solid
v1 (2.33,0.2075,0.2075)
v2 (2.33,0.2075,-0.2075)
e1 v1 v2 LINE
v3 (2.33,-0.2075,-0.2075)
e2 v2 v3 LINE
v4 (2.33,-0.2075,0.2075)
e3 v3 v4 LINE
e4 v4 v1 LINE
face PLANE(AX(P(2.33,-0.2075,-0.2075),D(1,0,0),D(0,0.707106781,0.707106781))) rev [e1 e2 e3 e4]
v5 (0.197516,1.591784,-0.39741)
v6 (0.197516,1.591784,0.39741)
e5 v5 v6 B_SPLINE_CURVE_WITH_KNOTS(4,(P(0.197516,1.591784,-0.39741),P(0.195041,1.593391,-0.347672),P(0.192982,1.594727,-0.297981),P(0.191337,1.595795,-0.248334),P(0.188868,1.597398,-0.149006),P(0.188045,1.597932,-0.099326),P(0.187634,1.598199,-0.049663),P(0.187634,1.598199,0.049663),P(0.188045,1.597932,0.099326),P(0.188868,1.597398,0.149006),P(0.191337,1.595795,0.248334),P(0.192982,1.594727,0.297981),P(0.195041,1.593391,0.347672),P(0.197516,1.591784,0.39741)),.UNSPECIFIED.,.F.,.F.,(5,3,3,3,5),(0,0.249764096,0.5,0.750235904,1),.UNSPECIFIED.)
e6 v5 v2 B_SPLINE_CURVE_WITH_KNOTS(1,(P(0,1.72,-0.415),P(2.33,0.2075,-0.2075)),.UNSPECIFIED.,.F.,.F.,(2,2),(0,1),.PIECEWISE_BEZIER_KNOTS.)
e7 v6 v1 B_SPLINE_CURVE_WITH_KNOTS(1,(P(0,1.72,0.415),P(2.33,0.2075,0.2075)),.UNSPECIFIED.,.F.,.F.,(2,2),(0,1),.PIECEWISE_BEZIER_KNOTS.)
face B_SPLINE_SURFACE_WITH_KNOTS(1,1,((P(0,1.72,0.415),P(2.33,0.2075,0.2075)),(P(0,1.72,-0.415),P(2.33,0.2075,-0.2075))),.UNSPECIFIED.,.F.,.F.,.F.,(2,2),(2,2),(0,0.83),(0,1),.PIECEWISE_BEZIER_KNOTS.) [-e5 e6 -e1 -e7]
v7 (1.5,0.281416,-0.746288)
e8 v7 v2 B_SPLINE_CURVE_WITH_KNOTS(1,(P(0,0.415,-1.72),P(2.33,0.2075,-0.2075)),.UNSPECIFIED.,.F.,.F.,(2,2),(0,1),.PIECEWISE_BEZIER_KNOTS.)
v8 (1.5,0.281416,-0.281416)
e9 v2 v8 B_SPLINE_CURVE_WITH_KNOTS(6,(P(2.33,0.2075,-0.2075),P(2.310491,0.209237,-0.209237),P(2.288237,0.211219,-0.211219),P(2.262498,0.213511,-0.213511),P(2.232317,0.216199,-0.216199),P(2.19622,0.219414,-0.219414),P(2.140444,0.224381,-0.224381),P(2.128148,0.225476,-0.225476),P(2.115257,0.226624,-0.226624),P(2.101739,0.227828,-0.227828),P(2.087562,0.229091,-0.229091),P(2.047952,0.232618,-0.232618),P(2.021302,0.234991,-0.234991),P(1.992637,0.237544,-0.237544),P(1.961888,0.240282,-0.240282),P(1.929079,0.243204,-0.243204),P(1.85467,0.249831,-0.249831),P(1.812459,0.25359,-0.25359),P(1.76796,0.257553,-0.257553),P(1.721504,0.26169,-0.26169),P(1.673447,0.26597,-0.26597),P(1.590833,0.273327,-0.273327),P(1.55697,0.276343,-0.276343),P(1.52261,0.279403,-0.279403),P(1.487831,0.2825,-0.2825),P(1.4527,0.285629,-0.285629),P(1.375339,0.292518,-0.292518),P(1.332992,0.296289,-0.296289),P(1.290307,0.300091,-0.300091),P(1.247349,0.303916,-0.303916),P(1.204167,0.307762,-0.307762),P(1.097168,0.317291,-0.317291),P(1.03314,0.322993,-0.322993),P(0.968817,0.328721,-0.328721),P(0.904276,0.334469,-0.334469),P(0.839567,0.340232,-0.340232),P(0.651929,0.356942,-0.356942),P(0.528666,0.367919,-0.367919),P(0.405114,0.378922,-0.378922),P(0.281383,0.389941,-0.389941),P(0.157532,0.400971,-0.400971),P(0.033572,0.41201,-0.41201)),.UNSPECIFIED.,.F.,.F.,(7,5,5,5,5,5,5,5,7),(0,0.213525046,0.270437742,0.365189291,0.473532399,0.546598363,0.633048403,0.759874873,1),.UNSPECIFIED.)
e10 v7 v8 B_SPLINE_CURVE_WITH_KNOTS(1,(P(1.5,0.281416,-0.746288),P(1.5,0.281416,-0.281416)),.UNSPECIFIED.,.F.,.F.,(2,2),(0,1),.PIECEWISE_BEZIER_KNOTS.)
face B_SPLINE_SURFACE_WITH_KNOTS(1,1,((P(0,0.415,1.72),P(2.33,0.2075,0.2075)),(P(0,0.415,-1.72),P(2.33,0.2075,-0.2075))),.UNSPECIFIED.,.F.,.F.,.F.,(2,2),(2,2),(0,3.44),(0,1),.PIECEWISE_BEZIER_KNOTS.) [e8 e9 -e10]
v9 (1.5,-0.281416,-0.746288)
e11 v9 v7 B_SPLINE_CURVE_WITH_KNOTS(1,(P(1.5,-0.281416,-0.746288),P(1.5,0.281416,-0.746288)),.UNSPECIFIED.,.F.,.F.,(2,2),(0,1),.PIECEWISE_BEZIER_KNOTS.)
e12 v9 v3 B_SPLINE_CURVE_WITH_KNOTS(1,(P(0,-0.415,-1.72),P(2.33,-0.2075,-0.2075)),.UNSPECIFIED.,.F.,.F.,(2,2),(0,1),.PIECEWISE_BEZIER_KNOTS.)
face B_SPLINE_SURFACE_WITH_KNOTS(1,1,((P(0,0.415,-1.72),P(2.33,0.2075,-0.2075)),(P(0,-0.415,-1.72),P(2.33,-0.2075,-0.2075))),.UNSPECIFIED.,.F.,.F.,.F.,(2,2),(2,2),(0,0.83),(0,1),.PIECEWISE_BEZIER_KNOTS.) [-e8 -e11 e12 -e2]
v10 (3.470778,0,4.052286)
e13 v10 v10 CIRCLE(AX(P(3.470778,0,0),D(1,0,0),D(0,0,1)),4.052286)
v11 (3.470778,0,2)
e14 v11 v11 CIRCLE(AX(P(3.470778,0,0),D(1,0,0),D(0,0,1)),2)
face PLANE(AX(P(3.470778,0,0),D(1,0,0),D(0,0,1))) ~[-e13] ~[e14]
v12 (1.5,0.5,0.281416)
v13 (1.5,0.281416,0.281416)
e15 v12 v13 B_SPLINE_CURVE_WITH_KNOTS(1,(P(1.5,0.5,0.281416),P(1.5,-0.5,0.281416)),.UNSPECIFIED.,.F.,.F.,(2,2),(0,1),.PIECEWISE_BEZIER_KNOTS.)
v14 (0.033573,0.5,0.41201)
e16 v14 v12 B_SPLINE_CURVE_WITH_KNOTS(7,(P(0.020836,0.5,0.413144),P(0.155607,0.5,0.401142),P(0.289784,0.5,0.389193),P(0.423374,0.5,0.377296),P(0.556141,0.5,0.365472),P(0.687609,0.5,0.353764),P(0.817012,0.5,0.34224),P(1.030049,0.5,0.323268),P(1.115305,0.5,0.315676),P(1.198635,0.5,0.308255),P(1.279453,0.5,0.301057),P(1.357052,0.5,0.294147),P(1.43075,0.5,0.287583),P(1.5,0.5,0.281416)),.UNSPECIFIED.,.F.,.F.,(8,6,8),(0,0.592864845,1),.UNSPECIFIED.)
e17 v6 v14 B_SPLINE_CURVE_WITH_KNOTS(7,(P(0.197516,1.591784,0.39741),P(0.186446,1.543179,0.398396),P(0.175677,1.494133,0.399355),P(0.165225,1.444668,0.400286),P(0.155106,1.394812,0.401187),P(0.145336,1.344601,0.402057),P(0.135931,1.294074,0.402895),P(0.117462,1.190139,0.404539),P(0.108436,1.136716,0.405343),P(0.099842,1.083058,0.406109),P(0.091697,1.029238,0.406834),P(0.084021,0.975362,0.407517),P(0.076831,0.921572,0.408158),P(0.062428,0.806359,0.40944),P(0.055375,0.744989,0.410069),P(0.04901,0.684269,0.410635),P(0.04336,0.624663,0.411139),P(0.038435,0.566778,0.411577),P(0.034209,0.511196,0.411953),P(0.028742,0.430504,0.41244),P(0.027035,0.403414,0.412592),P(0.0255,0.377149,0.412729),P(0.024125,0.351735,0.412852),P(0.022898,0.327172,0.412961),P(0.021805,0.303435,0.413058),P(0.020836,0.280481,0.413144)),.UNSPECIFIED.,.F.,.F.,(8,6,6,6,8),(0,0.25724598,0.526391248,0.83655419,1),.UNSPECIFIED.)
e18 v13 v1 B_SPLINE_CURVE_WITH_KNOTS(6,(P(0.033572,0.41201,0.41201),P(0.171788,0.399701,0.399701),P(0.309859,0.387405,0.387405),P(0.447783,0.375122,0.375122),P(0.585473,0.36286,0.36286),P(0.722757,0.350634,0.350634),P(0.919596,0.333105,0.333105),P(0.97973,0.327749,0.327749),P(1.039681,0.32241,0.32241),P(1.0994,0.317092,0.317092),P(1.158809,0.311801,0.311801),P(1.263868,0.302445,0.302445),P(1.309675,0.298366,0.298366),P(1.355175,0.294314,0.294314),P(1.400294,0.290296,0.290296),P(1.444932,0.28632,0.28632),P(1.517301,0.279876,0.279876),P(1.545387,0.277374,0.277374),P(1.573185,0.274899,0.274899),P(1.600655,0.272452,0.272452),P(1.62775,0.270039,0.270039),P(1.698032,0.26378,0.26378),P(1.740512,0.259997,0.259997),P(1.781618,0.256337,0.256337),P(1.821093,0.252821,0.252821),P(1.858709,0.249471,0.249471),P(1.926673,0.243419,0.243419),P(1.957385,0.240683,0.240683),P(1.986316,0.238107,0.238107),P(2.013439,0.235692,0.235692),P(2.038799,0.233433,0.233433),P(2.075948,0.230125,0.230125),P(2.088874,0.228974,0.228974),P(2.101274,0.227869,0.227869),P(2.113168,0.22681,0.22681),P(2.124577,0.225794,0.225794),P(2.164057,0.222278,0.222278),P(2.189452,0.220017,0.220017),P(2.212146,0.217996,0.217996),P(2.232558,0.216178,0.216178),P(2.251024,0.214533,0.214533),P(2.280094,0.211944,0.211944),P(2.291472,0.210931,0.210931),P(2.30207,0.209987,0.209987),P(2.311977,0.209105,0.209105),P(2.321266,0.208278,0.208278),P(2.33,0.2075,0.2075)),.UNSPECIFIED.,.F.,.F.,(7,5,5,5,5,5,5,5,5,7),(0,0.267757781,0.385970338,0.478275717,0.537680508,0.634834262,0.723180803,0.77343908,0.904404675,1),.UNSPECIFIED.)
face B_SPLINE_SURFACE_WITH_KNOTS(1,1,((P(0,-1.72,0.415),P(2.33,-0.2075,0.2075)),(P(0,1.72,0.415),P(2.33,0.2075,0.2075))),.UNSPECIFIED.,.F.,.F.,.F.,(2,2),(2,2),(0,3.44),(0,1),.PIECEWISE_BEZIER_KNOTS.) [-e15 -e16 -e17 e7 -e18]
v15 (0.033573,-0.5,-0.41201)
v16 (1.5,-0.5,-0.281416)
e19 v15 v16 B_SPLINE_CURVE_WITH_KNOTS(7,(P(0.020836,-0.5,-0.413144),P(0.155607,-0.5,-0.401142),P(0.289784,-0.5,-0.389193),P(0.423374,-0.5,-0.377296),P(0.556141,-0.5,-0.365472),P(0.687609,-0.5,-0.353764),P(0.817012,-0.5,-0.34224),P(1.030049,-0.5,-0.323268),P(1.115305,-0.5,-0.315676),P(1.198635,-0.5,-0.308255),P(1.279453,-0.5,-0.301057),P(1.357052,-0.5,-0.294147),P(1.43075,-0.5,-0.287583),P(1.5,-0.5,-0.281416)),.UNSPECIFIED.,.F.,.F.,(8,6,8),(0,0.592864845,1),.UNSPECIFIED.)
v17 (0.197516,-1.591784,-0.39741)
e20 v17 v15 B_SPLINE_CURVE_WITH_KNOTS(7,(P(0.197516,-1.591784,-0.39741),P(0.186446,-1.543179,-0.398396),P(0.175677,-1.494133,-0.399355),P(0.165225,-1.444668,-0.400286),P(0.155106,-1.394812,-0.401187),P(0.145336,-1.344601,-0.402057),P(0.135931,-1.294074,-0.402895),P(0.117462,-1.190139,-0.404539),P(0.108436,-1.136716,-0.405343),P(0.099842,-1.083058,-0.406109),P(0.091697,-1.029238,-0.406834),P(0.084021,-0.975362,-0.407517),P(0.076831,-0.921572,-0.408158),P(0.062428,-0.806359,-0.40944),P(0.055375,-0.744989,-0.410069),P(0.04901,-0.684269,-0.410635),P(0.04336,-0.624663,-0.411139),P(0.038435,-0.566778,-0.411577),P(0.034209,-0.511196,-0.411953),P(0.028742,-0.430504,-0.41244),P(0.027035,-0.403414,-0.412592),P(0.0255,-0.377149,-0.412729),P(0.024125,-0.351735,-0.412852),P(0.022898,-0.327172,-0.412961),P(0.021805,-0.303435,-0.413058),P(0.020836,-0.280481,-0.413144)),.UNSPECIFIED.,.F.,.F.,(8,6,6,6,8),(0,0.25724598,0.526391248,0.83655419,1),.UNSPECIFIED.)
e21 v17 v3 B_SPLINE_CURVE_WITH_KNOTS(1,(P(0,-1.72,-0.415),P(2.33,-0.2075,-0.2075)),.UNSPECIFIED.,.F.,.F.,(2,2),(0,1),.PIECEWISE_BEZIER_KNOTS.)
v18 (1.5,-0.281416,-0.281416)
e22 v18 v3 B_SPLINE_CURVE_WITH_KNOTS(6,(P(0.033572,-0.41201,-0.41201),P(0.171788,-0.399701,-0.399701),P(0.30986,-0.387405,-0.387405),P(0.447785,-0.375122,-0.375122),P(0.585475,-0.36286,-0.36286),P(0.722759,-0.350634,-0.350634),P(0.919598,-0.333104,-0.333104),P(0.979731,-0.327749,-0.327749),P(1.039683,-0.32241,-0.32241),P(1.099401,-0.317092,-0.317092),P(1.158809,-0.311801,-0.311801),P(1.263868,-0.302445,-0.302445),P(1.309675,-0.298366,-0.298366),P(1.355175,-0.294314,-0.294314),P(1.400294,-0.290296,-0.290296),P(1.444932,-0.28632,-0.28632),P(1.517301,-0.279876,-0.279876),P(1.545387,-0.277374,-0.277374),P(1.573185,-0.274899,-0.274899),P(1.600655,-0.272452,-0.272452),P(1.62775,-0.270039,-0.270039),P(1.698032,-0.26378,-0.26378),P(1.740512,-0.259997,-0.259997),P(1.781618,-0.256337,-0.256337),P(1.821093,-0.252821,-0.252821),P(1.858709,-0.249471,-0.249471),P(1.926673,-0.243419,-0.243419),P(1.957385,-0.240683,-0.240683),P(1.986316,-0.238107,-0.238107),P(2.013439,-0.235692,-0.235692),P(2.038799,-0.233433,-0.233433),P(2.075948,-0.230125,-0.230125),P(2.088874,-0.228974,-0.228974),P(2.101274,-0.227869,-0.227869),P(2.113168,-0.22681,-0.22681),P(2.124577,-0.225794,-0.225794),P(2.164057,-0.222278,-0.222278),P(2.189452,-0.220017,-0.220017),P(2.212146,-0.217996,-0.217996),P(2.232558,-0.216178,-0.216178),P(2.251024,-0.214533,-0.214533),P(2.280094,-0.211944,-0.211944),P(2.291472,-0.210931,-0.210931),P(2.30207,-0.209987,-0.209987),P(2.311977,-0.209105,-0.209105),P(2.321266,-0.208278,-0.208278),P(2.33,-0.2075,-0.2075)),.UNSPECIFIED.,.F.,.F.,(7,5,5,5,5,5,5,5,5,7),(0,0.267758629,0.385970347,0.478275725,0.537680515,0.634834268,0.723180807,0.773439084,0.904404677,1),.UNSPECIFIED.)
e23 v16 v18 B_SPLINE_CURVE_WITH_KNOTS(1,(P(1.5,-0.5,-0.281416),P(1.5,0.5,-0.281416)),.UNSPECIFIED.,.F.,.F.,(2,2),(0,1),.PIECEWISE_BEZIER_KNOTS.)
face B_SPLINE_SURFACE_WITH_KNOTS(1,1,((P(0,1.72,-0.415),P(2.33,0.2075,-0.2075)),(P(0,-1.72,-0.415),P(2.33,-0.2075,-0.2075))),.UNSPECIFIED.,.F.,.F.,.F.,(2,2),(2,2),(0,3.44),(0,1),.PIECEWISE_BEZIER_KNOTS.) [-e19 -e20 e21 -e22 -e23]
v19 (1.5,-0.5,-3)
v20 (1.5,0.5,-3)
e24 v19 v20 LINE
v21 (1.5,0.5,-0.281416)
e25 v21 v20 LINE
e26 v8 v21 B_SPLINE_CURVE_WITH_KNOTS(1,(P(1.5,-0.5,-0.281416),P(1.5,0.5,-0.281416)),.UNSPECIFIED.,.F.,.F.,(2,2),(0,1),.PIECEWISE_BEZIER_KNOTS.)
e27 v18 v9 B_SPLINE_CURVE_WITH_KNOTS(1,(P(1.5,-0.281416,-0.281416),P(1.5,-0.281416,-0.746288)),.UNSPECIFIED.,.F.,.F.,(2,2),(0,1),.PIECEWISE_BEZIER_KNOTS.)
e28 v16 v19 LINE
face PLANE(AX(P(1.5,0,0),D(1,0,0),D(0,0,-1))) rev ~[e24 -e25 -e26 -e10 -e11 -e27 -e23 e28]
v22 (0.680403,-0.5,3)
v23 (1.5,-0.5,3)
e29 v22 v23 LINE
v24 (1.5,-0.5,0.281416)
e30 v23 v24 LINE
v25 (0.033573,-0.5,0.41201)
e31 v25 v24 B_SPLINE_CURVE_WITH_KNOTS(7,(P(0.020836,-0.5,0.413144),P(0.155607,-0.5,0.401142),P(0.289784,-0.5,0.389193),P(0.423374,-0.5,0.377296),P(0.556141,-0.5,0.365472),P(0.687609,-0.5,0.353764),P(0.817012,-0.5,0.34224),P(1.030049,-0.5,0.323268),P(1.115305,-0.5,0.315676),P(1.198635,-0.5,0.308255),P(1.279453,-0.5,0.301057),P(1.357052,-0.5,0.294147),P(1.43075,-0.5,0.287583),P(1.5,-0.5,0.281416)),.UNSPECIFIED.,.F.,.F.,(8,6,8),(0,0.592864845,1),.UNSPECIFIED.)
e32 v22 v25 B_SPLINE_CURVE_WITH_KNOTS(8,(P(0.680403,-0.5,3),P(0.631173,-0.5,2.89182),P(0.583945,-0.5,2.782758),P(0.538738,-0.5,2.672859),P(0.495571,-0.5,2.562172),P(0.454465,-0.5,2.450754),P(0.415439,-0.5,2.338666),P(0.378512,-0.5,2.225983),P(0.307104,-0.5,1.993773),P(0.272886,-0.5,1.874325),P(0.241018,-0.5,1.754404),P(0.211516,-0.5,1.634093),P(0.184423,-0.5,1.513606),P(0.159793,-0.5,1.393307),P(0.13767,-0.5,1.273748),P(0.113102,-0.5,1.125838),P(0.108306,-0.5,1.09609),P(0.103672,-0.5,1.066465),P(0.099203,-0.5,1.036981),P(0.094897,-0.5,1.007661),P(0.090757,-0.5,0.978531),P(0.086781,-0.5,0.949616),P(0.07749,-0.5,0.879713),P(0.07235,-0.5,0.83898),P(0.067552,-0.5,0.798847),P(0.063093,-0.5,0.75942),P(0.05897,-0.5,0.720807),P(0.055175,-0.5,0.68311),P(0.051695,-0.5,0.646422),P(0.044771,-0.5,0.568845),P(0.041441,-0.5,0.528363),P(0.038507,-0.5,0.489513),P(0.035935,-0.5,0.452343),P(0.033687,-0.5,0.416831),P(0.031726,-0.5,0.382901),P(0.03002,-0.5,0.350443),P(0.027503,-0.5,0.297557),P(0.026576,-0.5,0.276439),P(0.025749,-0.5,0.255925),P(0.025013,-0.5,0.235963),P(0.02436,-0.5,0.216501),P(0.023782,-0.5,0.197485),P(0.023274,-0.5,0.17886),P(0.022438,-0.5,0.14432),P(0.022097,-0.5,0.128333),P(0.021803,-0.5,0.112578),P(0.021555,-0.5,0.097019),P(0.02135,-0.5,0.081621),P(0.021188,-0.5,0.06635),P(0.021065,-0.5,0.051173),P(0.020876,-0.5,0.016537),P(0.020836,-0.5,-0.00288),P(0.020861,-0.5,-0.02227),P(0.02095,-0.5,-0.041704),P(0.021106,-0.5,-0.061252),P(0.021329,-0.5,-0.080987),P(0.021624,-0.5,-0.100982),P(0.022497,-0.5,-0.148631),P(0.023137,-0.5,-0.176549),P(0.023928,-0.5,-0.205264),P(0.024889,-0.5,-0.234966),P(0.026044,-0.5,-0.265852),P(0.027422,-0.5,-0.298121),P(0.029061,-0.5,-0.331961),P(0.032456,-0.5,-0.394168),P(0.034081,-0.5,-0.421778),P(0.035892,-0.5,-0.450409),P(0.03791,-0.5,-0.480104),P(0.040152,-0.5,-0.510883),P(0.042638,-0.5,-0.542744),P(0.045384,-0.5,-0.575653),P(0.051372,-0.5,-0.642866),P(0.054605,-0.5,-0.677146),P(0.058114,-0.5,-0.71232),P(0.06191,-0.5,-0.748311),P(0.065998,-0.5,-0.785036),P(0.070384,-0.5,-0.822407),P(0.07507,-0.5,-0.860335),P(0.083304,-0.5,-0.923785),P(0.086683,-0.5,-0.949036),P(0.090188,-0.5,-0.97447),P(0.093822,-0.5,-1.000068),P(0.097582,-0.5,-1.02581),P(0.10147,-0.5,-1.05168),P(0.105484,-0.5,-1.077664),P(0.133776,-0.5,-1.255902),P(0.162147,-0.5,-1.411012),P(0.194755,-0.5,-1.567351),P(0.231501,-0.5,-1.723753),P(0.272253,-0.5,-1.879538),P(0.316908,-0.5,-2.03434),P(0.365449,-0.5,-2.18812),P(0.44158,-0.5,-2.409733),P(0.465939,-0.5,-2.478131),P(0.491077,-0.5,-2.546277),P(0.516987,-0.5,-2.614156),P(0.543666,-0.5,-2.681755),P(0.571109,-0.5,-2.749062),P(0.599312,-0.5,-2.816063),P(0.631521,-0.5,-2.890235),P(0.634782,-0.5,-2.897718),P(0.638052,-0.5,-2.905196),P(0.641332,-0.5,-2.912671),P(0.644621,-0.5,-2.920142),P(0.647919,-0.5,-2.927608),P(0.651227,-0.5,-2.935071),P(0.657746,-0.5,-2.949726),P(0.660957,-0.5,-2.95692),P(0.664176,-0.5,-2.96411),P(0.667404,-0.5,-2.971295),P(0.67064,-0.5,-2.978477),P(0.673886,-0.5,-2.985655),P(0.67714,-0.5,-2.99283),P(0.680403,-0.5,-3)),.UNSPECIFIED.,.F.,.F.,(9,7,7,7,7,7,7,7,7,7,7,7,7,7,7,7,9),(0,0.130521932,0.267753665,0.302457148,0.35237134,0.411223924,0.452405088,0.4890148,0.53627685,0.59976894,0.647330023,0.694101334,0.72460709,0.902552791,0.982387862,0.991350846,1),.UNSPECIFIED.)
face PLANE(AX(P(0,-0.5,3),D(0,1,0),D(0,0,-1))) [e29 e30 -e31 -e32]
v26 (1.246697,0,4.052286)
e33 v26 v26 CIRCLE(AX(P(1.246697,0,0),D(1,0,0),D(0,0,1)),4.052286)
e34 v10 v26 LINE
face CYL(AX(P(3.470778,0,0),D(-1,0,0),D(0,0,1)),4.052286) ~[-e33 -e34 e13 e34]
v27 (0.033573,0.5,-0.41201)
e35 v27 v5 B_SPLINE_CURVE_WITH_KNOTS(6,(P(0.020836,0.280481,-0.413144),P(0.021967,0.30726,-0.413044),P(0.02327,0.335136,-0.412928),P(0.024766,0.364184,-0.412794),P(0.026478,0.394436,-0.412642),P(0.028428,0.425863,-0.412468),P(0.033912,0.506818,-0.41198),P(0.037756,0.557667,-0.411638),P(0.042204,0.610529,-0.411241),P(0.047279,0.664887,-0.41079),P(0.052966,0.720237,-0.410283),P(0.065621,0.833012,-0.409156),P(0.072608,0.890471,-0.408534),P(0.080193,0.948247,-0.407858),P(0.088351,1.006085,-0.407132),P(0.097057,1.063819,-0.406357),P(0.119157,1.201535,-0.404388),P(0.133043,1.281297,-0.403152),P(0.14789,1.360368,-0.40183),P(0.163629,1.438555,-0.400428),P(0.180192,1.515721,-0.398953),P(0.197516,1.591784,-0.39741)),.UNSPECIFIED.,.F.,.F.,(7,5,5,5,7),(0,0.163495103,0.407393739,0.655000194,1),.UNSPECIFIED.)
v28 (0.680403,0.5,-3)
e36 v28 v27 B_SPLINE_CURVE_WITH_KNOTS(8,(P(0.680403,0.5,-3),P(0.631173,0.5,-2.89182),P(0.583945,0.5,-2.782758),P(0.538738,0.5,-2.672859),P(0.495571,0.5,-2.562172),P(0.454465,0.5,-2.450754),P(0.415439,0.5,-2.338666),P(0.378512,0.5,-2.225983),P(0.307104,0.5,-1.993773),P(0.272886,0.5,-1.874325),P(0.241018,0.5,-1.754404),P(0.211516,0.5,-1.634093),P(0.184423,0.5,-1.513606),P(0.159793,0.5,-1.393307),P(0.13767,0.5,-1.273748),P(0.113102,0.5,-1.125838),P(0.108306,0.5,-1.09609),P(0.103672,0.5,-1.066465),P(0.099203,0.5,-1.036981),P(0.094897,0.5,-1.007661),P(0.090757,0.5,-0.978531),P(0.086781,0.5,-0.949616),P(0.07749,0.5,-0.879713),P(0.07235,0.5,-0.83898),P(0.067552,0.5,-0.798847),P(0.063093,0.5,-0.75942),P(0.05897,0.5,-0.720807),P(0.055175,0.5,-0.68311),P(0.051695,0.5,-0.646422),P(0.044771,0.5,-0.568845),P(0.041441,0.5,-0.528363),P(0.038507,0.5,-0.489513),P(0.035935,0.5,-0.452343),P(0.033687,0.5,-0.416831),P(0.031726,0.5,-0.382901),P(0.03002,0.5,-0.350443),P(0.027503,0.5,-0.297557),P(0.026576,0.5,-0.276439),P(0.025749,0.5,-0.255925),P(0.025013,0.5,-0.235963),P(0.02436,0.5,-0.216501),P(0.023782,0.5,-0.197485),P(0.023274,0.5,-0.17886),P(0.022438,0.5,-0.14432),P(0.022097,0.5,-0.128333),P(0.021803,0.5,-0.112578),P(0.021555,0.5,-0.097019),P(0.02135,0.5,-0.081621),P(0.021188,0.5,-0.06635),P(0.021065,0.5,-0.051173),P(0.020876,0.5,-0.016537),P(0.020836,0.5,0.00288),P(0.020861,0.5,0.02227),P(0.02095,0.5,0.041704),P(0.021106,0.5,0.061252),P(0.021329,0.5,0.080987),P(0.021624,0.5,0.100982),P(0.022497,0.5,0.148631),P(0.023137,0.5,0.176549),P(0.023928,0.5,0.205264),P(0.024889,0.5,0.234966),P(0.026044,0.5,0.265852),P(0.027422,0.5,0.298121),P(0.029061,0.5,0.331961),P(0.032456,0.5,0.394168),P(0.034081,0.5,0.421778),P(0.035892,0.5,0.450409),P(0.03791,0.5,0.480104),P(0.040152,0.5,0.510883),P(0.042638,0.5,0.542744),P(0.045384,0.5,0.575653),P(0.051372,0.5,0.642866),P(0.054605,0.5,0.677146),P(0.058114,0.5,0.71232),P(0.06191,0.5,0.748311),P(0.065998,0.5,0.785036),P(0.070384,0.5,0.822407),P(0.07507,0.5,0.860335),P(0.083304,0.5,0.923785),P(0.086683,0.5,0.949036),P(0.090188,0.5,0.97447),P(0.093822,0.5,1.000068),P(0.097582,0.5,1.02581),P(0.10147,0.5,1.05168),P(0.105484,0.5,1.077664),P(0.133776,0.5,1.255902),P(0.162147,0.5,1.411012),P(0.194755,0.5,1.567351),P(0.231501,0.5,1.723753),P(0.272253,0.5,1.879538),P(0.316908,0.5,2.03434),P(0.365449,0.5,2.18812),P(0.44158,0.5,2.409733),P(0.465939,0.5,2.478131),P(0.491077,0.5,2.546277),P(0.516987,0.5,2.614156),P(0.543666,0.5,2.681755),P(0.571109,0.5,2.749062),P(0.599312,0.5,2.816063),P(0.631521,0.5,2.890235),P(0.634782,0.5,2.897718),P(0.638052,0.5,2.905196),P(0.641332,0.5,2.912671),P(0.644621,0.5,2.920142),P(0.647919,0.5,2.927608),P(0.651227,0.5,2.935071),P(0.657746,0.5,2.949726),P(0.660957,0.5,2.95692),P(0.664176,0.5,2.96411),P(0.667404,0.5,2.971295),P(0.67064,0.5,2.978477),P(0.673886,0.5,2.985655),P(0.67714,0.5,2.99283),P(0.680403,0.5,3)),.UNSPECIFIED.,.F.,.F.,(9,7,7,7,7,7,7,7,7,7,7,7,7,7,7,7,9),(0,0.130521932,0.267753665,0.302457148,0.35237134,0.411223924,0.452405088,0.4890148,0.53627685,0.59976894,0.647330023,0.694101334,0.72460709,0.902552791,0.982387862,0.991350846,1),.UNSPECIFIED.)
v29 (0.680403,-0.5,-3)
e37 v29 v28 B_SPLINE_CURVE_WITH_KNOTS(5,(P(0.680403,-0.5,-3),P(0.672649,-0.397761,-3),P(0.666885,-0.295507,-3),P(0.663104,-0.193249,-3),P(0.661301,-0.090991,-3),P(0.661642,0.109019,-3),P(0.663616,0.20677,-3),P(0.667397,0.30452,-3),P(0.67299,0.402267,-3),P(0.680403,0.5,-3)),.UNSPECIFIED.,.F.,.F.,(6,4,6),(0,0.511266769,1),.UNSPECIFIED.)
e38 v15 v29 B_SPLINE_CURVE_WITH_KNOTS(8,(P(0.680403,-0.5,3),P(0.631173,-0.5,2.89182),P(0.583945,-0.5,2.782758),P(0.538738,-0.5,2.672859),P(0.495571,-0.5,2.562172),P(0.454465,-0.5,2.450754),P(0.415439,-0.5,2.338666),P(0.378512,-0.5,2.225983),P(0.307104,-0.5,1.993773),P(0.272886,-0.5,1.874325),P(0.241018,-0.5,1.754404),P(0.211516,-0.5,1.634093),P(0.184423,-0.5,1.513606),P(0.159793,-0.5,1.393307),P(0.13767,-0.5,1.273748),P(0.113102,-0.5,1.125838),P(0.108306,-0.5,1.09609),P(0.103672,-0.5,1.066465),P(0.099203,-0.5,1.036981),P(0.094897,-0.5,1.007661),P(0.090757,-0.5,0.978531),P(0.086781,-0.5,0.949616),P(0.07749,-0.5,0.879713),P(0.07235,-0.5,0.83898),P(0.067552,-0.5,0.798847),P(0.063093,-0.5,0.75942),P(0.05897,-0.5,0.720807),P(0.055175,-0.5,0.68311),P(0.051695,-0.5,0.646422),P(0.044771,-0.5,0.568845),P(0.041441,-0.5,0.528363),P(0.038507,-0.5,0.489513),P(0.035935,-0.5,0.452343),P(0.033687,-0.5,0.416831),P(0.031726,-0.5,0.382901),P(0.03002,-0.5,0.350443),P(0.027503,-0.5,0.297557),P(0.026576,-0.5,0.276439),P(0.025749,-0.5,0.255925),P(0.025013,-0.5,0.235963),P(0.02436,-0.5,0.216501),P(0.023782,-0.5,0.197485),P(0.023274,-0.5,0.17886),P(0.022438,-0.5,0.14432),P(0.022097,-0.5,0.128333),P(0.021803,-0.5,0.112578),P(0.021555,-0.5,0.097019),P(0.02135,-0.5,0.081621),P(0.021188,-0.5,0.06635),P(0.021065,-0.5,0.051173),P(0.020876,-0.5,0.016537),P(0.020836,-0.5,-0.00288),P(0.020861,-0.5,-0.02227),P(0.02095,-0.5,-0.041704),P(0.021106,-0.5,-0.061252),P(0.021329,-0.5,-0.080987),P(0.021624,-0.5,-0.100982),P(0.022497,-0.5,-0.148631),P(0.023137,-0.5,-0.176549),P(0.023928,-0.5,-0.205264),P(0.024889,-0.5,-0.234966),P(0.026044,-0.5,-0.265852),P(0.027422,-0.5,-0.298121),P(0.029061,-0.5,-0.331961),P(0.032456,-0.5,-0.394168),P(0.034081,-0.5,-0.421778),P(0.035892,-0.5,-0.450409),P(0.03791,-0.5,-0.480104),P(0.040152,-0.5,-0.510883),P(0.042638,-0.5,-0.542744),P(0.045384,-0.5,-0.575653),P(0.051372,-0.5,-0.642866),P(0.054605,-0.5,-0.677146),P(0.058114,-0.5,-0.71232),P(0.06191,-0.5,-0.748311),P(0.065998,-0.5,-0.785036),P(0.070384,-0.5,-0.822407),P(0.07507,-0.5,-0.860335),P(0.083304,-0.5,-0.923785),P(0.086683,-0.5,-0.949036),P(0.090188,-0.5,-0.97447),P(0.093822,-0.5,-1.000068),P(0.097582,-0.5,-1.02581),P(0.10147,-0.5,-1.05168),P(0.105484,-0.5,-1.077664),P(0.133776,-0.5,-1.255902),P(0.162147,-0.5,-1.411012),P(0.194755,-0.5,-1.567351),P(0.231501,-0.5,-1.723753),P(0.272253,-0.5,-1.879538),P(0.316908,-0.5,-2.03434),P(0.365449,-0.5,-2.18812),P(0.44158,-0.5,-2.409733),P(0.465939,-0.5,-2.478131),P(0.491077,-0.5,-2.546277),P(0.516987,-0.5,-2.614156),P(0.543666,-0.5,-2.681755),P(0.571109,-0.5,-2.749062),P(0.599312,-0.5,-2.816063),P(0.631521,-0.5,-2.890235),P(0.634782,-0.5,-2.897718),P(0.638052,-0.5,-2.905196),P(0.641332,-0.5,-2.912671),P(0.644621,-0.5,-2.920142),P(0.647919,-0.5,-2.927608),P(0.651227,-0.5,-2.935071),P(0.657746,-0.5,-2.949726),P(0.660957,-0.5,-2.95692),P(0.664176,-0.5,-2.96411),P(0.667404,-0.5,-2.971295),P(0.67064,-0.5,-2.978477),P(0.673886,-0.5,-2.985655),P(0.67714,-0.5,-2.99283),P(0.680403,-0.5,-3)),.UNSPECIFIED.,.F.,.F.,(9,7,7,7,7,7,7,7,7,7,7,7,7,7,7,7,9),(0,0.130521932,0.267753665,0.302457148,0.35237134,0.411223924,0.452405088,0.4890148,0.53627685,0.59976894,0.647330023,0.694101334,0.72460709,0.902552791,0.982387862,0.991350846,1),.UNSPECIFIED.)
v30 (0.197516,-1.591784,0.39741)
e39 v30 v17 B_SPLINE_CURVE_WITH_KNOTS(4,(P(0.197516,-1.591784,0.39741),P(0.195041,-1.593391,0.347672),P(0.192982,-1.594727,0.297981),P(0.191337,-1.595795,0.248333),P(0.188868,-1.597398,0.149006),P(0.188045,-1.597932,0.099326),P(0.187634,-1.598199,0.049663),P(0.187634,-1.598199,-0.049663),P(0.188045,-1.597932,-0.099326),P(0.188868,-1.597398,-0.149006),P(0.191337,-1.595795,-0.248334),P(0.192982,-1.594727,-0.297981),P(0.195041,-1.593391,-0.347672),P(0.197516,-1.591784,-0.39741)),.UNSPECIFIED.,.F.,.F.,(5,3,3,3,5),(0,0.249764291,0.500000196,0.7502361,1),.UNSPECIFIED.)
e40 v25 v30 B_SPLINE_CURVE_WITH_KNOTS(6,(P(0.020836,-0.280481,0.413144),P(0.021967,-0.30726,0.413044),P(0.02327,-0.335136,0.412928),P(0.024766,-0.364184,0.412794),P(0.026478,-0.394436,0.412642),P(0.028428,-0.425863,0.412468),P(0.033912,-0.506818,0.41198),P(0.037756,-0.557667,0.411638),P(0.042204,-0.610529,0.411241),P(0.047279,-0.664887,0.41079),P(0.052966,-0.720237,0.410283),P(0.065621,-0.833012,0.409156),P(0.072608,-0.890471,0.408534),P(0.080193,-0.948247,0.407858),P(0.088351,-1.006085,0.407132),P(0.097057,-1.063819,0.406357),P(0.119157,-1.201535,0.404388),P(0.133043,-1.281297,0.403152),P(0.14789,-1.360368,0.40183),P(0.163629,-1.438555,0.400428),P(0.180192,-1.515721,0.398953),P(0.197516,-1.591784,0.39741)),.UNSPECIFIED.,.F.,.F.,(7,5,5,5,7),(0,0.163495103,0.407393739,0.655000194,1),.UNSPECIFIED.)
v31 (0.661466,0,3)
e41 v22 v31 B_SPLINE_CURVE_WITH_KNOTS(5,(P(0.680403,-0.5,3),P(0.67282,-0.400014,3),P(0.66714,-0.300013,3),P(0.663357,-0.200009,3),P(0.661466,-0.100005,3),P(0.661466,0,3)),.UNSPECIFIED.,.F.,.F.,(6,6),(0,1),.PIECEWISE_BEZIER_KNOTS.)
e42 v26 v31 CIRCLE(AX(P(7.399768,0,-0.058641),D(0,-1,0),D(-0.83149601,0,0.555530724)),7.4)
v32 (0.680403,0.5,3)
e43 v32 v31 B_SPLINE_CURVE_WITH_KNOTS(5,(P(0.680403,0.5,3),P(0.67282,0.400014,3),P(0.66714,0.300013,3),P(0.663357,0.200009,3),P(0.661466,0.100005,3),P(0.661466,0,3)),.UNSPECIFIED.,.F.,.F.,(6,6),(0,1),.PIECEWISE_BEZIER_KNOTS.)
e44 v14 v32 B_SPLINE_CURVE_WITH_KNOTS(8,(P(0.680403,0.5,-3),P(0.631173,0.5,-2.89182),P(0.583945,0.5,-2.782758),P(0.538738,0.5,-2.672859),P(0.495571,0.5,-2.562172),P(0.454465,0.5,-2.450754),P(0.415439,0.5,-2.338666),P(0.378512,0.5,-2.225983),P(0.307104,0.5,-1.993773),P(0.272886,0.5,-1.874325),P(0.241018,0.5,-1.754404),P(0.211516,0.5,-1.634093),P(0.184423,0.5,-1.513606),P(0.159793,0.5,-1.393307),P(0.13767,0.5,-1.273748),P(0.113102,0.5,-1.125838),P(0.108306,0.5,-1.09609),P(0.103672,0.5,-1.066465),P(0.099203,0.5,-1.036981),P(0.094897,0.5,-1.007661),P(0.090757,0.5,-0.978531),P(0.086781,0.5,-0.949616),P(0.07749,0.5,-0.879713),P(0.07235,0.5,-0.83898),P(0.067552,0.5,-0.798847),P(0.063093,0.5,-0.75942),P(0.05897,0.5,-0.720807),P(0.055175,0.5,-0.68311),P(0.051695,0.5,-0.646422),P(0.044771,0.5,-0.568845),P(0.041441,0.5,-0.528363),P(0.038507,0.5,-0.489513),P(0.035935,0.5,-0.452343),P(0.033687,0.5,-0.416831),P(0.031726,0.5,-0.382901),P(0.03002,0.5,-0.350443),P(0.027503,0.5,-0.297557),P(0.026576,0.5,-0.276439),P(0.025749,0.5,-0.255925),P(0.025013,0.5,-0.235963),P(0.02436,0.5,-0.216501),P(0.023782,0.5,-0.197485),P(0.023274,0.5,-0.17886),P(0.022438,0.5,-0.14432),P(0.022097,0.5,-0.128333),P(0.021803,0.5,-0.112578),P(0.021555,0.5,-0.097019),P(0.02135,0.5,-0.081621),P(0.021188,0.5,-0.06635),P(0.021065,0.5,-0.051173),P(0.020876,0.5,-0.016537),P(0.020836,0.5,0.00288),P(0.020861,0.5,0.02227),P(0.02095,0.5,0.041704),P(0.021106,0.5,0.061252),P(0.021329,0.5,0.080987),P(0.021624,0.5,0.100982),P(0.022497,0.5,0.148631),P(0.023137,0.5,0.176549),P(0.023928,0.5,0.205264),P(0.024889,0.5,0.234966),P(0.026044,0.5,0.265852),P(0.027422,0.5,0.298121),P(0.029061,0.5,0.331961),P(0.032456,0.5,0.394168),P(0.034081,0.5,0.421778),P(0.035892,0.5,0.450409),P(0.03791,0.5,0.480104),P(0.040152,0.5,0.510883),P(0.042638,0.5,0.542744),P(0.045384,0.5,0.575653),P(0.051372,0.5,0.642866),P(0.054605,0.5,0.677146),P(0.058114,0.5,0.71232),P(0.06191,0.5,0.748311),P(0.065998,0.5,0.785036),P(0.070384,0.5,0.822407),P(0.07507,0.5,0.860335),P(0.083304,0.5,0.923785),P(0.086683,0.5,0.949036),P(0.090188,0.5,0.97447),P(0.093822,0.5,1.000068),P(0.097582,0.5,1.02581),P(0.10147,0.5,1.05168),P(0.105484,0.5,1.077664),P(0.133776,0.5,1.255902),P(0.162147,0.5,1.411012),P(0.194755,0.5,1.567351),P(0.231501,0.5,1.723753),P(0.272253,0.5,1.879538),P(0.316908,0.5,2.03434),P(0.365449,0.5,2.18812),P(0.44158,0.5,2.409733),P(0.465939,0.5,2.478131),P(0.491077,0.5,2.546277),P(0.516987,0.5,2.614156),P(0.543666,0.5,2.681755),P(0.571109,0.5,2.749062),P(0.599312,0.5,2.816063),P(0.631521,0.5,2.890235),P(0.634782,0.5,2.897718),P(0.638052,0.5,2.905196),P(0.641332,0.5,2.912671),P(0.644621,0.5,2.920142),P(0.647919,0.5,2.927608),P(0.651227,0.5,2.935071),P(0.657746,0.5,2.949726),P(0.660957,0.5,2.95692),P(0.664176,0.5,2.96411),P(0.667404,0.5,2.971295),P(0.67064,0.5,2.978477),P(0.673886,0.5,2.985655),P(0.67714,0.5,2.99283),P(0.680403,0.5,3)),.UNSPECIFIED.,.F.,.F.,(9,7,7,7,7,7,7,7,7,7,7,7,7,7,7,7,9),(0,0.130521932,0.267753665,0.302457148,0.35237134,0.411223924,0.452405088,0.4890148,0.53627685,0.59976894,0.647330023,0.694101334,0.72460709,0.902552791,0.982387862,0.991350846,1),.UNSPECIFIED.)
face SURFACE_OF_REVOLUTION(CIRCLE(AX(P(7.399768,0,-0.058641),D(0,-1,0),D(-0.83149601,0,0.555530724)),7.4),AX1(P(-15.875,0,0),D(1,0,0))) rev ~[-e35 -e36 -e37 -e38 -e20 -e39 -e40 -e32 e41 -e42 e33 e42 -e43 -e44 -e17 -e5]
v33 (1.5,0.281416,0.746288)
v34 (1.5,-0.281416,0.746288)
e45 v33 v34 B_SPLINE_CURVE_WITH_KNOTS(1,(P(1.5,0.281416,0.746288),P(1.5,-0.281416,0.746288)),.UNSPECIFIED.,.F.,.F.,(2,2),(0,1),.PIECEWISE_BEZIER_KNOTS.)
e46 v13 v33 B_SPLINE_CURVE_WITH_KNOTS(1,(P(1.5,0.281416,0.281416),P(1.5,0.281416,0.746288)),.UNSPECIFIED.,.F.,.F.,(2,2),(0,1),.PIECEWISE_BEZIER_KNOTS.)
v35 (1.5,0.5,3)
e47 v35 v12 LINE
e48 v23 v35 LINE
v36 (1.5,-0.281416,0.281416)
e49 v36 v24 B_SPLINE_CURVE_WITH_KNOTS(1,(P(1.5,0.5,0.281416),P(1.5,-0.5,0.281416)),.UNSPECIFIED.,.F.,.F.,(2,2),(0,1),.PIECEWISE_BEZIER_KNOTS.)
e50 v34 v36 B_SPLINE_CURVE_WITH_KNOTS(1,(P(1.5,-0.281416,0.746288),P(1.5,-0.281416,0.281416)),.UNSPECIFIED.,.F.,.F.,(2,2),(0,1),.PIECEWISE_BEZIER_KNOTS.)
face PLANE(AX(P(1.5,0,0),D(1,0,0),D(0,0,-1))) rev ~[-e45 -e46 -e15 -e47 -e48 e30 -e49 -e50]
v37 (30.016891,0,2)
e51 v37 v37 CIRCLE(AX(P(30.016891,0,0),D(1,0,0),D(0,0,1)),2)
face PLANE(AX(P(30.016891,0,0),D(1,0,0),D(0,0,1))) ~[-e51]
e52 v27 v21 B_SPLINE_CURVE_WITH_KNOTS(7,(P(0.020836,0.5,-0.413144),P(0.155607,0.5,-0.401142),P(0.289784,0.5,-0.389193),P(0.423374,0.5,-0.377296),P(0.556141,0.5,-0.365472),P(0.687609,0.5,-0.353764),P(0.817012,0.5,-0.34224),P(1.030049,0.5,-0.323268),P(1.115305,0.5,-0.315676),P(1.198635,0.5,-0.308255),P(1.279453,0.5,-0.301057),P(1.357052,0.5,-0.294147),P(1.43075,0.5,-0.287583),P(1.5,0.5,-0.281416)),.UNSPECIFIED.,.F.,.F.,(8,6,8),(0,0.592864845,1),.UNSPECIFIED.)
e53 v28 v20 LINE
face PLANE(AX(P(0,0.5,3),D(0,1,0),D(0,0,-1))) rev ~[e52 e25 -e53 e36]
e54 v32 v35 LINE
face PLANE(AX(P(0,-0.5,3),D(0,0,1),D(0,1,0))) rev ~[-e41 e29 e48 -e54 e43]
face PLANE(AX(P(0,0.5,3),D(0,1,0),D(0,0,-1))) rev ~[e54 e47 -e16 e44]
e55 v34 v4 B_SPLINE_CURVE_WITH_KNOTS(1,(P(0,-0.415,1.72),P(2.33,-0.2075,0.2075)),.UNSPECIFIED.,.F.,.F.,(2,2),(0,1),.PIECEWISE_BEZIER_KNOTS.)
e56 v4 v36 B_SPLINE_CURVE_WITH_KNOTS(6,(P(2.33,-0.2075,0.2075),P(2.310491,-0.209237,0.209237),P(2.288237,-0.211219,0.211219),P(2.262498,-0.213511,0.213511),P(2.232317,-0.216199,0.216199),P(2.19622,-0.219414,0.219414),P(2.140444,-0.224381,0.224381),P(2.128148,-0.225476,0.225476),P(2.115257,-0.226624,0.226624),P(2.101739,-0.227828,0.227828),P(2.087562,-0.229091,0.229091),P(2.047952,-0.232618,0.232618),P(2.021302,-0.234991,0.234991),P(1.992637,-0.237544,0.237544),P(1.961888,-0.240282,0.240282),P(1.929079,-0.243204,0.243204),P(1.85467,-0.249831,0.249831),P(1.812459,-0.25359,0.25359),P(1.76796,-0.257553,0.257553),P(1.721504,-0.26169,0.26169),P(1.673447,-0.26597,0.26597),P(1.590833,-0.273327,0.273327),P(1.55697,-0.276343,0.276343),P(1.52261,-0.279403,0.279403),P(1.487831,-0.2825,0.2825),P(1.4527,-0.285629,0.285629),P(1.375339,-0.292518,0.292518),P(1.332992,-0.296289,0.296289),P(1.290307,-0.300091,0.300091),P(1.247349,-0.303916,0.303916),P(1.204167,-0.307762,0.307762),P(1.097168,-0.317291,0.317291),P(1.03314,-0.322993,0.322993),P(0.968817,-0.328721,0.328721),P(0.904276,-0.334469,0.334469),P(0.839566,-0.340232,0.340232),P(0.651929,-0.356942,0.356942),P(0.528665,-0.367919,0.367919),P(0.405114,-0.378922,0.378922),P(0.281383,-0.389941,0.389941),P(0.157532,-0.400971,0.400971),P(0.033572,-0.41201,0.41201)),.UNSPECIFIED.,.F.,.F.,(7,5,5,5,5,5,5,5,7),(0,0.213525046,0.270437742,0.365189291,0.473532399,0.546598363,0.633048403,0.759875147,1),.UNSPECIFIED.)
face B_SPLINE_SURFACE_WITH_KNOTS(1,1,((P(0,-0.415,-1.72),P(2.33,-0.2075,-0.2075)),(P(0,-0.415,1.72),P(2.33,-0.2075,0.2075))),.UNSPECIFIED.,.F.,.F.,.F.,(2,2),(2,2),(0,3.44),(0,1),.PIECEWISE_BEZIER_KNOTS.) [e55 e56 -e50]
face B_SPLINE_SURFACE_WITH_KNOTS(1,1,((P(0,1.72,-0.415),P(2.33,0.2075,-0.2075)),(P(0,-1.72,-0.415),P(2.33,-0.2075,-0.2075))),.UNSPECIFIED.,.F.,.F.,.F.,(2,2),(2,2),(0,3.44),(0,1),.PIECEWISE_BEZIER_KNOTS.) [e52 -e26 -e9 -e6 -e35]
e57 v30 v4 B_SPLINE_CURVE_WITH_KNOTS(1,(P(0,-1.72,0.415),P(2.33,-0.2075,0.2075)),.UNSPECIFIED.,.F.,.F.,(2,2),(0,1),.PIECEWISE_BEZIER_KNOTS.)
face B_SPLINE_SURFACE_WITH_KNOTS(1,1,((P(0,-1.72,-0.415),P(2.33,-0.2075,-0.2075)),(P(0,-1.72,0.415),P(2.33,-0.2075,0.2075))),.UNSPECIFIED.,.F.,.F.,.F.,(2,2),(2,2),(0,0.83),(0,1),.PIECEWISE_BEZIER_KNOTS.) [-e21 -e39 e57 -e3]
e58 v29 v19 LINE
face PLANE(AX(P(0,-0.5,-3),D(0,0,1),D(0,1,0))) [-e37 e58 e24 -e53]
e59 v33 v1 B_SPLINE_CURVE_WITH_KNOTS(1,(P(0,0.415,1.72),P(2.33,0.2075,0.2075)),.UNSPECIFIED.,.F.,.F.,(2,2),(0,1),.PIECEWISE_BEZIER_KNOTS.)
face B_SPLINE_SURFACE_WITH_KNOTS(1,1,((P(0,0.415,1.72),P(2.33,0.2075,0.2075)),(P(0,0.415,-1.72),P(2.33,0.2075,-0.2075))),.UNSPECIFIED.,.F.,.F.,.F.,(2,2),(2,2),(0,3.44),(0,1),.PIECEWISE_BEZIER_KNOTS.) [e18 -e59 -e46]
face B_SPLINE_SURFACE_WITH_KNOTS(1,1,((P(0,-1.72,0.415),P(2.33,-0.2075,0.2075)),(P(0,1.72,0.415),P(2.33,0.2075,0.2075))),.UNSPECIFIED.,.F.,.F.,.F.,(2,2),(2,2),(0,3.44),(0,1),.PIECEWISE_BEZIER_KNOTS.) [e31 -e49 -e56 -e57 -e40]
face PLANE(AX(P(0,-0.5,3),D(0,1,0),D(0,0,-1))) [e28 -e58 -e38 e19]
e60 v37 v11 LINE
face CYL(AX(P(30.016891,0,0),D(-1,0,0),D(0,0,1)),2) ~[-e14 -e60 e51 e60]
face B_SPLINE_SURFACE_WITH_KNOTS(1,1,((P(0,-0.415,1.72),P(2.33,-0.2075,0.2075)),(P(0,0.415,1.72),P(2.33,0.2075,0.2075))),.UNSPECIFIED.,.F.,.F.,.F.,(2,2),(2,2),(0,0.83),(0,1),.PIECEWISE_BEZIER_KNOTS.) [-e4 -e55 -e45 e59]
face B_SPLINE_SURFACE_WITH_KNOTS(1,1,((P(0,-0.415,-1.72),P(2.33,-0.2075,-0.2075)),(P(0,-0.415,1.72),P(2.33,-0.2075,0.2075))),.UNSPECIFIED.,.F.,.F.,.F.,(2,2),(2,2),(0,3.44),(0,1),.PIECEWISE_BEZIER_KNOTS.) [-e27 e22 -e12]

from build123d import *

# Parameters (mm, degrees)
SKETCH2_W         = 6
SKETCH2_H         = 1
SLOT_DEPTH        = 1.5
CIRPATTERN1_COUNT = 2
CIRPATTERN1_ANGLE = 90


with BuildPart() as part:
    # BodySke → Base-Revolve (revolve)
    with BuildSketch(Plane.XY, mode=Mode.PRIVATE) as base_revolve_sk:
        with BuildLine():
            Line((0, 0), (30.016891186, 0))
            Line((30.016891186, 0), (30.016891186, 2))
            Line((30.016891186, 2), (3.470777776, 2))
            Line((3.470777776, 2), (3.470777776, 4.052285877))
            Line((3.470777776, 4.052285877), (1.246697171, 4.052285877))
            ThreePointArc((1.246697171, 4.052285877), (0.326924477, 2.117338651), (0, 0))
        make_face()
    revolve(base_revolve_sk.sketch.rotate(Axis((-15.875, 0, 0), (1, 0, 0)), 90), axis=Axis((-15.875, 0, 0), (1, 0, 0)))

    # Sketch2 → Slot (cut)
    with BuildSketch(Plane(origin=(0, 0, 0), x_dir=(0, 0, -1), z_dir=(1, 0, 0))):
        Rectangle(SKETCH2_W, SKETCH2_H)
    extrude(amount=SLOT_DEPTH, mode=Mode.SUBTRACT)

    # Sketch3 → Cross section 0
    with BuildSketch(Plane(origin=(0, 0, 0), x_dir=(0, 0, -1), z_dir=(1, 0, 0))):
        with BuildLine():
            Line((0.415, -1.72), (-0.415, -1.72))
            Line((-0.415, -1.72), (-0.415, 1.72))
            Line((-0.415, 1.72), (0.415, 1.72))
            Line((0.415, 1.72), (0.415, -1.72))
        make_face()
    # Sketch4 → Cross section 1
    with BuildSketch(Plane(origin=(2.33, 0, 0), x_dir=(0, 0, -1), z_dir=(1, 0, 0))):
        with BuildLine():
            Line((0.2075, -0.2075), (-0.2075, -0.2075))
            Line((-0.2075, -0.2075), (-0.2075, 0.2075))
            Line((-0.2075, 0.2075), (0.2075, 0.2075))
            Line((0.2075, 0.2075), (0.2075, -0.2075))
        make_face()
    cross = loft(mode=Mode.SUBTRACT)

    # CirPattern1: Cross ×2 about axis
    cirpattern1_axis = Axis((0, 0, 0), (1, 0, 0))
    for i in range(1, CIRPATTERN1_COUNT):
        add(cross.rotate(cirpattern1_axis, i * CIRPATTERN1_ANGLE / (CIRPATTERN1_COUNT - 1)), mode=Mode.SUBTRACT)


solid = part.part
